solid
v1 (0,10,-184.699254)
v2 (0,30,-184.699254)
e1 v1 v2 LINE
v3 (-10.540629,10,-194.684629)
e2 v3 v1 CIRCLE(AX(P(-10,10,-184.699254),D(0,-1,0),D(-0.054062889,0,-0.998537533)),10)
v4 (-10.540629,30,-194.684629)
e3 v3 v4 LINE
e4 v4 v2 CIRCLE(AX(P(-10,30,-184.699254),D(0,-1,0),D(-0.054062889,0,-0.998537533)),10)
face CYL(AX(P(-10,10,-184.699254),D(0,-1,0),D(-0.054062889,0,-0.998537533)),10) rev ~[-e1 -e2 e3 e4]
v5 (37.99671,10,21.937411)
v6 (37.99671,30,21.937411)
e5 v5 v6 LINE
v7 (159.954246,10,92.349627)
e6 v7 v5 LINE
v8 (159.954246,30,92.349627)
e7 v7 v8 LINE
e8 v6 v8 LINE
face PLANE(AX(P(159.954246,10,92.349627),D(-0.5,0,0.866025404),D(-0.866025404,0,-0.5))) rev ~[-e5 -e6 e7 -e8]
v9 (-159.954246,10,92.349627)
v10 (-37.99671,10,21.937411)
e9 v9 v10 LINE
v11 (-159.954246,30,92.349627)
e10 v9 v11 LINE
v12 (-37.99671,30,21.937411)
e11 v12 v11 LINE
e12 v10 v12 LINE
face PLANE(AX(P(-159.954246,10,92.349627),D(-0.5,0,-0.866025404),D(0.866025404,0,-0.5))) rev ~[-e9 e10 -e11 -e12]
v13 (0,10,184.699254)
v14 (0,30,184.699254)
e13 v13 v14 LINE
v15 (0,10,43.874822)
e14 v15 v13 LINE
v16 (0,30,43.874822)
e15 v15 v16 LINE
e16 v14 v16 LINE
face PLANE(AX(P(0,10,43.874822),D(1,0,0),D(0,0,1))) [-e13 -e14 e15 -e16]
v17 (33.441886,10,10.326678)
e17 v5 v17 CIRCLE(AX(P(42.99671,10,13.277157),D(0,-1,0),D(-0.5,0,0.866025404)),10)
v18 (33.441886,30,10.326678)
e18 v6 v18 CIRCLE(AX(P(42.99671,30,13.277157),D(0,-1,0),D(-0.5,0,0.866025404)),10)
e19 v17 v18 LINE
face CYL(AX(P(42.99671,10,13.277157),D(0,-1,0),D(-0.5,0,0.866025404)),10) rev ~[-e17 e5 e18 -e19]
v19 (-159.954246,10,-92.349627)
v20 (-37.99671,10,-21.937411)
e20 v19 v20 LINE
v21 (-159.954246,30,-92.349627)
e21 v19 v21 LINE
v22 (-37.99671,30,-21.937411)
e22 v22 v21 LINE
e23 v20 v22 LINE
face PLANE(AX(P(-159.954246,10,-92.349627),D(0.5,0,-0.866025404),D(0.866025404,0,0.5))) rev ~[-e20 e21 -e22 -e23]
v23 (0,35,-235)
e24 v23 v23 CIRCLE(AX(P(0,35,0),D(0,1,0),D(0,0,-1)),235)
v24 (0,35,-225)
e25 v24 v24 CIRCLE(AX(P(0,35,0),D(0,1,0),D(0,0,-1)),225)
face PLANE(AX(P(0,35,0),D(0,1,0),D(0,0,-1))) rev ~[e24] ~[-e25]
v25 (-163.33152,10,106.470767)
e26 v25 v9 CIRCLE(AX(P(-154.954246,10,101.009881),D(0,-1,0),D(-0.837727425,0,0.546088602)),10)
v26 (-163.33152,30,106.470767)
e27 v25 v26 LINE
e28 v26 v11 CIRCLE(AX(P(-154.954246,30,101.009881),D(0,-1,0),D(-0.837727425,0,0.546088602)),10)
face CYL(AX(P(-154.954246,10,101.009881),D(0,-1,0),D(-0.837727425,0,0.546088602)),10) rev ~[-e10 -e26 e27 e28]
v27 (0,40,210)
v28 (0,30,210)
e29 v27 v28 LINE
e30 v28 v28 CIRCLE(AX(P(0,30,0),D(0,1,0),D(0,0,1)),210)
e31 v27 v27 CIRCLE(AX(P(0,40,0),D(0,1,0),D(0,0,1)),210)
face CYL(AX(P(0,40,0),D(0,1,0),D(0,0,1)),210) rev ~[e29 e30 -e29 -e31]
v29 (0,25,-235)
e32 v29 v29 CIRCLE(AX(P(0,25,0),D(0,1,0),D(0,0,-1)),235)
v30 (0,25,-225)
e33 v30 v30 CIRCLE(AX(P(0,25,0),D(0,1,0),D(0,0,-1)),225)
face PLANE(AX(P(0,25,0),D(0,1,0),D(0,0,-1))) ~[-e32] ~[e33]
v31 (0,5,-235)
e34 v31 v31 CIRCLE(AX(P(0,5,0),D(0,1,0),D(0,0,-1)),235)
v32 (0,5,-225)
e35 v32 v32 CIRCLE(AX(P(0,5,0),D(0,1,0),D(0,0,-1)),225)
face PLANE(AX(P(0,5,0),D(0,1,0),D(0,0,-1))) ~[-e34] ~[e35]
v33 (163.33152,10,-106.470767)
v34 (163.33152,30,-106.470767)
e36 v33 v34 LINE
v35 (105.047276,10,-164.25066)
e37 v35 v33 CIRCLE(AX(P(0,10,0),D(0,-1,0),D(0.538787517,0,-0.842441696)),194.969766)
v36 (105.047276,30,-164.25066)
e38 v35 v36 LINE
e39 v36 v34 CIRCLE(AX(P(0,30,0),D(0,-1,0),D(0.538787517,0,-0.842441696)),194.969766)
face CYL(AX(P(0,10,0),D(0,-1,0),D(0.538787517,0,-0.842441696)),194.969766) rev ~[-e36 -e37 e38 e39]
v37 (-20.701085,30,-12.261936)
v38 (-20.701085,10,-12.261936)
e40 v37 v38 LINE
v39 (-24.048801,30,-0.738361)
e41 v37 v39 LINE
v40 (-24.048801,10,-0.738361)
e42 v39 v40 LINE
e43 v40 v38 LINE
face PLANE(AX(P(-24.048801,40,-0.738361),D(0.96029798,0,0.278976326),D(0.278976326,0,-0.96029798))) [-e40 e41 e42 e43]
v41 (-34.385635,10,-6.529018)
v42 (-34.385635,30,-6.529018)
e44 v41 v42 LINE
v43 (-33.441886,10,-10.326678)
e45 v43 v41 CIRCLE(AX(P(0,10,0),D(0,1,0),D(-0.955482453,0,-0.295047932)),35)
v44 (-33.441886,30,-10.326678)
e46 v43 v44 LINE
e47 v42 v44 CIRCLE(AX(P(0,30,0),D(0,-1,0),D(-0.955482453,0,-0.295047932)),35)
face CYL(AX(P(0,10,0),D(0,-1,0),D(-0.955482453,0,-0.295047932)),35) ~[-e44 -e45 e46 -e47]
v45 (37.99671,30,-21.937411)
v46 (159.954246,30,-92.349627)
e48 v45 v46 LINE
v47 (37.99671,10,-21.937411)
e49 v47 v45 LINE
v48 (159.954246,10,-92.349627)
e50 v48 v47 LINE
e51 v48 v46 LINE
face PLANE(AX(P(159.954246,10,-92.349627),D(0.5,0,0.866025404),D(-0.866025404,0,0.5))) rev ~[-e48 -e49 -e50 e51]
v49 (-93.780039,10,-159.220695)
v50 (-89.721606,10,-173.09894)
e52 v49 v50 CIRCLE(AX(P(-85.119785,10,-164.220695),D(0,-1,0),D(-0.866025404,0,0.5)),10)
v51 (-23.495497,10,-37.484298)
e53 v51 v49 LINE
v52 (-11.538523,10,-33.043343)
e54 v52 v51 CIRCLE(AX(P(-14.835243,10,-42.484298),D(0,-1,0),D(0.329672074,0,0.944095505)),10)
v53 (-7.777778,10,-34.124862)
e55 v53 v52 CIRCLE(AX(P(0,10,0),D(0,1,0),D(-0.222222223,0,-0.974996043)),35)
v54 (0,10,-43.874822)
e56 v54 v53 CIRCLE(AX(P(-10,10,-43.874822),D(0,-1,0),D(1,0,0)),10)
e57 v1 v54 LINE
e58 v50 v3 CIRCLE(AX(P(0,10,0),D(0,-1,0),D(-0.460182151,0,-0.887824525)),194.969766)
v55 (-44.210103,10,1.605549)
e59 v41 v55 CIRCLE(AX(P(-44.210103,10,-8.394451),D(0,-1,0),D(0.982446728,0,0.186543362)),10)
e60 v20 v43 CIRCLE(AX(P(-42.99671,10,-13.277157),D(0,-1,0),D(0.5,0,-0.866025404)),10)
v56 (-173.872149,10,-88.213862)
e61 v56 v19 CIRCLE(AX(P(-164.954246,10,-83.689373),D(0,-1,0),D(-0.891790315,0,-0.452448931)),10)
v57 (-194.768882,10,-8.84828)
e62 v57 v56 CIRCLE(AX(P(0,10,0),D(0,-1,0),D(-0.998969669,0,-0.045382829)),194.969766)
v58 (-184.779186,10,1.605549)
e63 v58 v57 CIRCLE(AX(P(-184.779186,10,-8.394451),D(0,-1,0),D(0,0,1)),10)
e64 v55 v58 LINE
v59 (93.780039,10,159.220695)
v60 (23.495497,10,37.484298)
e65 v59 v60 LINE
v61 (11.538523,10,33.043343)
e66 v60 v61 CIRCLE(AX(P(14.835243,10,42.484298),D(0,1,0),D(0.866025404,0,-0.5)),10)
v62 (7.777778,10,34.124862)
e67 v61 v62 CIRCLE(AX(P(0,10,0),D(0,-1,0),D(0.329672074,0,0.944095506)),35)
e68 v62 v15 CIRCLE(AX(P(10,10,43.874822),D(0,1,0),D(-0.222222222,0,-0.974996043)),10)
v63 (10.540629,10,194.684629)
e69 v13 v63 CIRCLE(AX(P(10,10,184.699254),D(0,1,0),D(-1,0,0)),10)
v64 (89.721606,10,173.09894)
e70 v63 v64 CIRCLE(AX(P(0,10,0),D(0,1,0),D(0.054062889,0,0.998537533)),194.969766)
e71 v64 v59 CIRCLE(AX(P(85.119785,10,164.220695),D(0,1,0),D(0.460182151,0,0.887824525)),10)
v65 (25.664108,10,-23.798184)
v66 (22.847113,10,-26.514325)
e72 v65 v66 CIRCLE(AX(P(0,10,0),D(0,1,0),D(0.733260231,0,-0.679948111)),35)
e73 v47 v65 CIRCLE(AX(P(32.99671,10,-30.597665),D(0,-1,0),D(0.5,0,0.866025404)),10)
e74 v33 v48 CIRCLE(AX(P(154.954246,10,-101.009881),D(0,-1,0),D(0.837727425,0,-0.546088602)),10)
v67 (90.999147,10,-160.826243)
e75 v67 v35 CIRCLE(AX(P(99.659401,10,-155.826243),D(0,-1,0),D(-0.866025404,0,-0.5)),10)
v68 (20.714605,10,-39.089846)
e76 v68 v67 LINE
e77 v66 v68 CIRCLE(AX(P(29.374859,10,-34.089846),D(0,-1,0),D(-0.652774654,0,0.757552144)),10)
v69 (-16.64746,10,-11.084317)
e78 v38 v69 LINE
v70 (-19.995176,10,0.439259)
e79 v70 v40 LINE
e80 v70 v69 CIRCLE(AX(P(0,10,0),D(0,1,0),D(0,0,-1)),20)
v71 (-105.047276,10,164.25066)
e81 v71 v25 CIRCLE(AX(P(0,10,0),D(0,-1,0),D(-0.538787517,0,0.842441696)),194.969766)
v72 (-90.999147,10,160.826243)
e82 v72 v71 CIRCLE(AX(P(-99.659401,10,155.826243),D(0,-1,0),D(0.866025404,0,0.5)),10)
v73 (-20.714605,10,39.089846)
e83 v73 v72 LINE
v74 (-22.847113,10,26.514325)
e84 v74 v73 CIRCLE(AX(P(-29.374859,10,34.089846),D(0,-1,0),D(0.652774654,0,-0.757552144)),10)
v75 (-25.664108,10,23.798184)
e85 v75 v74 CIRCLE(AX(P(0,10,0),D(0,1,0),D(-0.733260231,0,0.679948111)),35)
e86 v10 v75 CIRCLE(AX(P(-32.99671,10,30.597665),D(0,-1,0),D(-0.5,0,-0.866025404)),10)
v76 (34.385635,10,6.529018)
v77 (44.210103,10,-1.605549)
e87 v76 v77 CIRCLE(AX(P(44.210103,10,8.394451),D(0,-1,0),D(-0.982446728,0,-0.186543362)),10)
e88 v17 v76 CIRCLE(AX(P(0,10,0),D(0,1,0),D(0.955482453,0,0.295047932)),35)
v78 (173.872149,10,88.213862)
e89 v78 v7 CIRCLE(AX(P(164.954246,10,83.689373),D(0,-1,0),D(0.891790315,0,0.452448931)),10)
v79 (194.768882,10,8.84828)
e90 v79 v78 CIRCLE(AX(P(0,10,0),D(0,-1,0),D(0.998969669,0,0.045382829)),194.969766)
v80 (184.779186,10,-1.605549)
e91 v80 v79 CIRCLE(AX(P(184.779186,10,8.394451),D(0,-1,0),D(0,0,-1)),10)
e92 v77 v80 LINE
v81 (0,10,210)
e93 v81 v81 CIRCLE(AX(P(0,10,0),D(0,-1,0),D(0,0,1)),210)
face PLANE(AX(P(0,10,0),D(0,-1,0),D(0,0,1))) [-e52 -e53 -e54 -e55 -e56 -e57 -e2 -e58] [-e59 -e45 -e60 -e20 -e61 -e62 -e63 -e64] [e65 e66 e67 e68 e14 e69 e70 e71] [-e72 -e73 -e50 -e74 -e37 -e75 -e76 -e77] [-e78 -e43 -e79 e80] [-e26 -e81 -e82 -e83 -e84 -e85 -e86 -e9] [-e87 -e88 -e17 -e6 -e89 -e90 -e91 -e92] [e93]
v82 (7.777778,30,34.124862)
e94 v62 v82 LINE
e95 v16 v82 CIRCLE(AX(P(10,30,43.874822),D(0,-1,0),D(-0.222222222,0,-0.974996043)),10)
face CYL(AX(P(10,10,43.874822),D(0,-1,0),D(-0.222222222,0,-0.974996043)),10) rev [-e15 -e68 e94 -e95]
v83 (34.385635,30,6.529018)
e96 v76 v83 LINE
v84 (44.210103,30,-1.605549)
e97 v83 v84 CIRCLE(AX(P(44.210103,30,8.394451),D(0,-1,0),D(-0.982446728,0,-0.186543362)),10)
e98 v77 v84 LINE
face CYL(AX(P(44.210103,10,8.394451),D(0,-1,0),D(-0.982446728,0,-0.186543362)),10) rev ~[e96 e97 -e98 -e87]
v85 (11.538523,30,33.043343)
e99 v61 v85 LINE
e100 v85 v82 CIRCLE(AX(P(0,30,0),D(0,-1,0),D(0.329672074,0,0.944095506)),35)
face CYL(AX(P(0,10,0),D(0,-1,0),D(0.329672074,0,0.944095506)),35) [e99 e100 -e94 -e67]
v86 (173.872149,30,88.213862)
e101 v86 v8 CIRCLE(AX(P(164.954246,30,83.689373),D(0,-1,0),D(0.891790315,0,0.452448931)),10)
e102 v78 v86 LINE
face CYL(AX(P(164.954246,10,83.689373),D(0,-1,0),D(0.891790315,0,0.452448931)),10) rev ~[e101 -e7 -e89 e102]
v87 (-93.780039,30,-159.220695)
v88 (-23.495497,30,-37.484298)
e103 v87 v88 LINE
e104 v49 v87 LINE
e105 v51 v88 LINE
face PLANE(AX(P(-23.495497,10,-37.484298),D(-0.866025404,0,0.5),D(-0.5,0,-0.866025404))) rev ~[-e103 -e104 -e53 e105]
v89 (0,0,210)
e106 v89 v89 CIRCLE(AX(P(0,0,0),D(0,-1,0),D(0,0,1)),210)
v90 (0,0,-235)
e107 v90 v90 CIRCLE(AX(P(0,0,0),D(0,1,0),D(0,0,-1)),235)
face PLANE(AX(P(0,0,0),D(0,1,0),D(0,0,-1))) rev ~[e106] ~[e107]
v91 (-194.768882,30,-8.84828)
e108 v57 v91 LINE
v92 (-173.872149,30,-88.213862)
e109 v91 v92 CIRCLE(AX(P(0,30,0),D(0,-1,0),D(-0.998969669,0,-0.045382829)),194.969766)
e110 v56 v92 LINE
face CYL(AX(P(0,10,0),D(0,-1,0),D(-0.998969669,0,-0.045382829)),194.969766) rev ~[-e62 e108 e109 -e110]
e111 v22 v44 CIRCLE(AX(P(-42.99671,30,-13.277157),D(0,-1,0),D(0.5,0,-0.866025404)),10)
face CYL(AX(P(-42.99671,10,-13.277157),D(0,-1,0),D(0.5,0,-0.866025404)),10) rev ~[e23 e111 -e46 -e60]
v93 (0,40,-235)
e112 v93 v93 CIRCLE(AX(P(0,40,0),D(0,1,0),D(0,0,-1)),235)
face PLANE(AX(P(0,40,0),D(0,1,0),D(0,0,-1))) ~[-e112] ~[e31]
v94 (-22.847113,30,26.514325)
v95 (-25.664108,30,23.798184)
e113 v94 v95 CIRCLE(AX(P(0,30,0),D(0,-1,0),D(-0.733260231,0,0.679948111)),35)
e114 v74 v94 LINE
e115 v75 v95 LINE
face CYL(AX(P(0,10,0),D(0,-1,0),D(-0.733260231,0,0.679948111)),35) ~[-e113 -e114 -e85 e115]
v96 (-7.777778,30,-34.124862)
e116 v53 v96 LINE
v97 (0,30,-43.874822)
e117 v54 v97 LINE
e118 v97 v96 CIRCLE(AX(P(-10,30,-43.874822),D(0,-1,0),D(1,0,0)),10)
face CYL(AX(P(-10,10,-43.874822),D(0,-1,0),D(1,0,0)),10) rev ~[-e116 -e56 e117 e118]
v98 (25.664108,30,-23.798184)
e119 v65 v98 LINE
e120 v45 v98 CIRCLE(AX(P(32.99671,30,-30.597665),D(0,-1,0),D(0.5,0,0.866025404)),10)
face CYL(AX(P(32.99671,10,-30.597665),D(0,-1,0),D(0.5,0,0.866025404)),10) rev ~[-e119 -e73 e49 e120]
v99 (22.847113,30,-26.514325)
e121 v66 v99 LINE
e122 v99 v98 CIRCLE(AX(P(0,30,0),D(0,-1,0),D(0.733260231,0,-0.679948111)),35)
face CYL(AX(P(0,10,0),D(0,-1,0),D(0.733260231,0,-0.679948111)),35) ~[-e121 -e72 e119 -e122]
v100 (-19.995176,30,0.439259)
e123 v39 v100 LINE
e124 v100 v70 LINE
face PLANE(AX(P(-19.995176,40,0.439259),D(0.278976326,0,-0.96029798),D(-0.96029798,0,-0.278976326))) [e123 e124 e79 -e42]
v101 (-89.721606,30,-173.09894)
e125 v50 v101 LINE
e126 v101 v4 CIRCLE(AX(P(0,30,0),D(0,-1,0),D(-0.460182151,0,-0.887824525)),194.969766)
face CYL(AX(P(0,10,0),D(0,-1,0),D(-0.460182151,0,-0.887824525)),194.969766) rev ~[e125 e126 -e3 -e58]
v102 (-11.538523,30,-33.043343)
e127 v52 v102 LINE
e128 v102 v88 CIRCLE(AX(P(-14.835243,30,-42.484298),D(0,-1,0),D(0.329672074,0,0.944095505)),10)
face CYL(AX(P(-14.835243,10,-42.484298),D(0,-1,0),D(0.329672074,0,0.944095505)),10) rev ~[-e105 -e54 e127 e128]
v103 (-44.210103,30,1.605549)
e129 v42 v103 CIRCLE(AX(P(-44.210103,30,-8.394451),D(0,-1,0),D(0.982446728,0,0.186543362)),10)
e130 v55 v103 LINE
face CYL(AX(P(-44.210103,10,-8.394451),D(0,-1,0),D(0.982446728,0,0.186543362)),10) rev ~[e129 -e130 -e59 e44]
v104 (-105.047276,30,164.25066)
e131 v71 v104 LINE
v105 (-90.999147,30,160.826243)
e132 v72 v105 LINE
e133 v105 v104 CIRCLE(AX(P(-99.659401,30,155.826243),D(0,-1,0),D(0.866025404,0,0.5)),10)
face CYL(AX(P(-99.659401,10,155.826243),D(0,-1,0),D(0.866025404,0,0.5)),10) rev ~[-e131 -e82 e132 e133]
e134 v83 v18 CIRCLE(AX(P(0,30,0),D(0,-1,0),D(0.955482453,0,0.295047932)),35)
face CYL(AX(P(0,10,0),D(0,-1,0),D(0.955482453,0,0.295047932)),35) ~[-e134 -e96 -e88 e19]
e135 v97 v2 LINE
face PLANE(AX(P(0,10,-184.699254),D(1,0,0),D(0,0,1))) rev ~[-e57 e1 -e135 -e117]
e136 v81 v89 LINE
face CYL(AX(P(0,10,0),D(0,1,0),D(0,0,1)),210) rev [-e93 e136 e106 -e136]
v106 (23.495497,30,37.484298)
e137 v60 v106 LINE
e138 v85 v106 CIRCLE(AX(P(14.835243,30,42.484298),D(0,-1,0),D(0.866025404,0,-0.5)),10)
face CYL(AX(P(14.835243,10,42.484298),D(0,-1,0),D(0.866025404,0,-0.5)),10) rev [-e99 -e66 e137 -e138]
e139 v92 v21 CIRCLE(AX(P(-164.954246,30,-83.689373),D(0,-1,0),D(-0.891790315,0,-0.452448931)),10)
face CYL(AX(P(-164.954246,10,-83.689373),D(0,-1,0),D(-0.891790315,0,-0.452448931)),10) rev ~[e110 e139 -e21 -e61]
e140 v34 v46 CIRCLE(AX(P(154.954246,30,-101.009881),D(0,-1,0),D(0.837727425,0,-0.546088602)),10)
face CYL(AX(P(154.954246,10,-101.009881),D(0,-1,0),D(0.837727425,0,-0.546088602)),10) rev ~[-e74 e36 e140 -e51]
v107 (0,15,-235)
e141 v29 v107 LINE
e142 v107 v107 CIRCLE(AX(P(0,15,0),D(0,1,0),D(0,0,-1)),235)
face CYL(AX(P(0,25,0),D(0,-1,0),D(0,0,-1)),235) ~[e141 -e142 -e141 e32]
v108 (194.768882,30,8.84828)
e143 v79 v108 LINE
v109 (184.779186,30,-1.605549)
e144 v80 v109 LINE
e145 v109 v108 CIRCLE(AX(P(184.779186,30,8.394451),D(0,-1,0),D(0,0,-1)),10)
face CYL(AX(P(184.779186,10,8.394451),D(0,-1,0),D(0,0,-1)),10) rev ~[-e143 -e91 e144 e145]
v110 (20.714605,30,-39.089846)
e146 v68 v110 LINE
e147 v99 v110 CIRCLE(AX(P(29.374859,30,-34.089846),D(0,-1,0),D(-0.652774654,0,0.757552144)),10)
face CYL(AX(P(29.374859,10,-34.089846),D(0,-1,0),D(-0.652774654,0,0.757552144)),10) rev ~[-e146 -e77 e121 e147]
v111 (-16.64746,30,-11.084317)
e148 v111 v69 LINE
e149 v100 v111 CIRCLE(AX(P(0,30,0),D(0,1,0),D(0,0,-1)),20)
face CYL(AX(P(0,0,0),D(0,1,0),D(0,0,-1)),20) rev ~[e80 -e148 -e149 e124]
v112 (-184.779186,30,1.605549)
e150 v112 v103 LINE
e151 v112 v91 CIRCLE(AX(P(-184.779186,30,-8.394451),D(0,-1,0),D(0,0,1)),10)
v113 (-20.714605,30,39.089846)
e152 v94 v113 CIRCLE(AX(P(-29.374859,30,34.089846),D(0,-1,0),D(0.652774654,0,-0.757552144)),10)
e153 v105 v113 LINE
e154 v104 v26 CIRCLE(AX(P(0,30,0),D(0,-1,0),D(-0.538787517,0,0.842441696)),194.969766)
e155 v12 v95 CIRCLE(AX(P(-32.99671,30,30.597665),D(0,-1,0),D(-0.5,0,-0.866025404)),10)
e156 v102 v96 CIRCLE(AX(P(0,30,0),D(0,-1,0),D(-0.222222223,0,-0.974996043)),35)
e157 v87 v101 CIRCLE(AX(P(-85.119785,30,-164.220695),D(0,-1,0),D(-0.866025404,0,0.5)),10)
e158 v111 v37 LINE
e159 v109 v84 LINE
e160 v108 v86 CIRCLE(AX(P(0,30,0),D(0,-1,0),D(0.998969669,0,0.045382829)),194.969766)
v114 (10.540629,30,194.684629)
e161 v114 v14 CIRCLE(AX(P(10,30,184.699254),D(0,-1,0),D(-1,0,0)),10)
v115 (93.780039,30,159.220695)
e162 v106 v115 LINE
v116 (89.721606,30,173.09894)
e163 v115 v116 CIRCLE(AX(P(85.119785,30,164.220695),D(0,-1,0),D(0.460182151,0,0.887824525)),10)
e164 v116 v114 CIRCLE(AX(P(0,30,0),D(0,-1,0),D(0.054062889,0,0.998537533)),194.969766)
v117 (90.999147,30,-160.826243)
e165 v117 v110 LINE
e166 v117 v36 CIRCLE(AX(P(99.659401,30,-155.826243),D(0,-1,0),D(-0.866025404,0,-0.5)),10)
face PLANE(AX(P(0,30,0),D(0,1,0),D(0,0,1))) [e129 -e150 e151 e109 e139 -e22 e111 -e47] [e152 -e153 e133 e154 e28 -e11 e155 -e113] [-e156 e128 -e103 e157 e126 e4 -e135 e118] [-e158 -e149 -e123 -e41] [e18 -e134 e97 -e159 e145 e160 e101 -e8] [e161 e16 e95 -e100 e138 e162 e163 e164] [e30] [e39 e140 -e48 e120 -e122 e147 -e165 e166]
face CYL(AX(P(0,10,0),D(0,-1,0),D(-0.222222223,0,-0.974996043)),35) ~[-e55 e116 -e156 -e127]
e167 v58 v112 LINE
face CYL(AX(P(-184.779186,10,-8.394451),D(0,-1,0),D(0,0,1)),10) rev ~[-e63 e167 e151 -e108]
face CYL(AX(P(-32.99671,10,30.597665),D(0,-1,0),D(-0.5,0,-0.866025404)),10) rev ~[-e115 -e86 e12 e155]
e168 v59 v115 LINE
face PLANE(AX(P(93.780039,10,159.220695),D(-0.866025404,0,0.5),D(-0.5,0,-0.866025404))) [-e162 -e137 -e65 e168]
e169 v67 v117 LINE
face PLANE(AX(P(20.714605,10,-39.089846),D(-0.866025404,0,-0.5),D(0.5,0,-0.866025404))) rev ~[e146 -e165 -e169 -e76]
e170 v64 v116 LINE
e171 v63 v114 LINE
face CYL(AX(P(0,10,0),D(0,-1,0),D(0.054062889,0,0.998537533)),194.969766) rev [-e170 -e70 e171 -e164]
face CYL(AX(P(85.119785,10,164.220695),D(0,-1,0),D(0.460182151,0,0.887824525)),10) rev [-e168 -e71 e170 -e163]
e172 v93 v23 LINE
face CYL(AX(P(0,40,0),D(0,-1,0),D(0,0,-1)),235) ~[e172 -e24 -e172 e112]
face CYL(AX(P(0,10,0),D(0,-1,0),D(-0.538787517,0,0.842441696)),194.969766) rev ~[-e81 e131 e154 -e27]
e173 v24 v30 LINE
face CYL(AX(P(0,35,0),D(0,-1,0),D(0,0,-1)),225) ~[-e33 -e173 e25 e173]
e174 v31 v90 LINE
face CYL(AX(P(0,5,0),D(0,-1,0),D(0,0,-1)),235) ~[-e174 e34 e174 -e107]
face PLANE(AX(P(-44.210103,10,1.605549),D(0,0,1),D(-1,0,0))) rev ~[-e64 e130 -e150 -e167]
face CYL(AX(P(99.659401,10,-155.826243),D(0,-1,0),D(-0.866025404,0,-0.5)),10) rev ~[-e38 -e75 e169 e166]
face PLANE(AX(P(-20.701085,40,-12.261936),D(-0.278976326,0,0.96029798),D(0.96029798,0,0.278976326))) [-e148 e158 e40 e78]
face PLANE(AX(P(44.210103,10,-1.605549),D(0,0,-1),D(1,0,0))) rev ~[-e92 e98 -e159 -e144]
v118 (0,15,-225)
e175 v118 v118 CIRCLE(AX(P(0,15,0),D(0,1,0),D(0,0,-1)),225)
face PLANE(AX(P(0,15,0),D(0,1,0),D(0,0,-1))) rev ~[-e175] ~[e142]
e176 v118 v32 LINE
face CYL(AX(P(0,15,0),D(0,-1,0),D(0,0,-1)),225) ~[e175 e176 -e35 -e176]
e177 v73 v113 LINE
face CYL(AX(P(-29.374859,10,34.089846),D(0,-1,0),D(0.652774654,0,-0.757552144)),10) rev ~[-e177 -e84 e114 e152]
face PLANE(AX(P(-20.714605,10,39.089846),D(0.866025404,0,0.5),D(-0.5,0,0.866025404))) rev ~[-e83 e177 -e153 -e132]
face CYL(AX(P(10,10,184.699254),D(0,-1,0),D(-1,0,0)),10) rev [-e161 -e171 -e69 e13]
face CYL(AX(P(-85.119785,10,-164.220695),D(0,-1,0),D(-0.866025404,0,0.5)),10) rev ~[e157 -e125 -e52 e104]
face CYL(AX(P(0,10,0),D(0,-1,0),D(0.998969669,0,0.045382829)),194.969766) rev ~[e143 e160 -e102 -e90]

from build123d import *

# Parameters (mm, degrees)
CUT_EXTRUDE1_DEPTH = 335.738704066
SKETCH3_R          = 210
CUT_EXTRUDE2_DEPTH = 10
CUT_EXTRUDE3_START = -10
SKETCH4_R          = 210
CUT_EXTRUDE3_DEPTH = 10
CUT_EXTRUDE4_DEPTH = 334.691474269


with BuildPart() as part:
    # Sketch1 → Revolve1 (revolve)
    with BuildSketch(Plane(origin=(0, 0, 0), x_dir=(0, 0, -1), z_dir=(1, 0, 0))):
        Polygon((20, 0), (20, 40), (235, 40), (235, 35), (225, 35), (225, 25), (235, 25), (235, 15), (225, 15), (225, 5), (235, 5), (235, 0), align=None)
    revolve(axis=Axis((0, 0, 0), (0, 1, 0)))

    # Sketch2 → Cut-Extrude1 (cut, through all)
    with BuildSketch(Plane(origin=(0, 40, 0), x_dir=(1, 0, 0), z_dir=(0, 1, 0))):
        with BuildLine():
            Line((-19.995175711, -0.439258804), (-24.04880088, 0.738360519))
            Line((-24.04880088, 0.738360519), (-20.701084967, 12.261936274))
            Line((-20.701084967, 12.261936274), (-16.647459798, 11.084316951))
            ThreePointArc((-16.647459798, 11.084316951), (19.205959591, -5.579526521), (-19.995175711, -0.439258804))
        make_face()
    extrude(amount=-CUT_EXTRUDE1_DEPTH, mode=Mode.SUBTRACT)

    # Sketch3 → Cut-Extrude2 (cut)
    with BuildSketch(Plane(origin=(0, 40, 0), x_dir=(1, 0, 0), z_dir=(0, 1, 0))):
        with Locations(Location((0, 0, 0), (0, 0, 270))):
            Circle(SKETCH3_R)
    extrude(amount=-CUT_EXTRUDE2_DEPTH, mode=Mode.SUBTRACT)

    # Sketch4 → Cut-Extrude3 (cut)
    with BuildSketch(Plane.XZ.offset(CUT_EXTRUDE3_START)):
        with Locations(Location((0, 0, 0), (0, 0, 90))):
            Circle(SKETCH4_R)
    extrude(amount=CUT_EXTRUDE3_DEPTH, mode=Mode.SUBTRACT)

    # Sketch5 → Cut-Extrude4 (cut, through all)
    with BuildSketch(Plane.XZ.offset(-10)):
        with BuildLine():
            Line((0, 43.874821937), (0, 184.699253674))
            ThreePointArc((0, 184.699253674), (3.122729064, 191.958946813), (10.540628894, 194.684629))
            ThreePointArc((10.540628894, 194.684629), (51.279766456, 188.105276849), (89.721606346, 173.098939861))
            ThreePointArc((89.721606346, 173.098939861), (94.717809879, 167.027457013), (93.78003887, 159.220694609))
            Line((93.78003887, 159.220694609), (23.495497372, 37.484297749))
            ThreePointArc((23.495497372, 37.484297749), (18.316966013, 33.109992057), (11.538522594, 33.043342693))
            ThreePointArc((11.538522594, 33.043342693), (9.673276888, 33.636701893), (7.777777778, 34.124861507))
            ThreePointArc((7.777777778, 34.124861507), (2.1826404, 37.638726292), (0, 43.874821937))
        make_face()
        with BuildLine():
            Line((44.21010278, -1.605548725), (184.779185774, -1.605548725))
            ThreePointArc((184.779185774, -1.605548725), (192.008925843, 1.485698961), (194.768882461, 8.848279566))
            ThreePointArc((194.768882461, 8.848279566), (188.543831565, 49.643057974), (173.872148887, 88.213862106))
            ThreePointArc((173.872148887, 88.213862106), (167.802688955, 93.275110708), (159.954245742, 92.349626837))
            Line((159.954245742, 92.349626837), (37.996710384, 21.937410968))
            ThreePointArc((37.996710384, 21.937410968), (33.687413335, 16.929141112), (33.441885854, 10.326677613))
            ThreePointArc((33.441885854, 10.326677613), (33.966876783, 8.441047424), (34.385635495, 6.529017659))
            ThreePointArc((34.385635495, 6.529017659), (37.832577247, 0.692038141), (44.21010278, -1.605548725))
        make_face()
        with BuildLine():
            Line((20.714605407, -39.089846473), (90.999146905, -160.826243334))
            ThreePointArc((90.999146905, -160.826243334), (97.291115964, -165.541758053), (105.047276114, -164.250660295))
            ThreePointArc((105.047276114, -164.250660295), (137.264065109, -138.462218875), (163.331519993, -106.470766894))
            ThreePointArc((163.331519993, -106.470766894), (164.679959892, -98.683836105), (159.954245742, -92.349626837))
            Line((159.954245742, -92.349626837), (37.996710384, -21.937410968))
            ThreePointArc((37.996710384, -21.937410968), (31.504772935, -20.70958518), (25.664108076, -23.798183894))
            ThreePointArc((25.664108076, -23.798183894), (24.293599895, -25.195654469), (22.847112902, -26.514325035))
            ThreePointArc((22.847112902, -26.514325035), (19.515611235, -32.417953916), (20.714605407, -39.089846473))
        make_face()
        with BuildLine():
            Line((-23.495497372, -37.484297749), (-93.78003887, -159.220694609))
            ThreePointArc((-93.78003887, -159.220694609), (-94.717809879, -167.027457013), (-89.721606346, -173.098939861))
            ThreePointArc((-89.721606346, -173.098939861), (-51.279766456, -188.105276849), (-10.540628894, -194.684629))
            ThreePointArc((-10.540628894, -194.684629), (-3.122729064, -191.958946813), (0, -184.699253674))
            Line((0, -184.699253674), (0, -43.874821937))
            ThreePointArc((0, -43.874821937), (-2.1826404, -37.638726292), (-7.777777778, -34.124861507))
            ThreePointArc((-7.777777778, -34.124861507), (-9.673276888, -33.636701893), (-11.538522594, -33.043342693))
            ThreePointArc((-11.538522594, -33.043342693), (-18.316966013, -33.109992057), (-23.495497372, -37.484297749))
        make_face()
        with BuildLine():
            Line((-44.21010278, 1.605548725), (-184.779185774, 1.605548725))
            ThreePointArc((-184.779185774, 1.605548725), (-192.008925843, -1.485698961), (-194.768882461, -8.848279566))
            ThreePointArc((-194.768882461, -8.848279566), (-188.543831565, -49.643057974), (-173.872148887, -88.213862106))
            ThreePointArc((-173.872148887, -88.213862106), (-167.802688955, -93.275110708), (-159.954245742, -92.349626837))
            Line((-159.954245742, -92.349626837), (-37.996710384, -21.937410968))
            ThreePointArc((-37.996710384, -21.937410968), (-33.687413335, -16.929141112), (-33.441885854, -10.326677613))
            ThreePointArc((-33.441885854, -10.326677613), (-33.966876783, -8.441047424), (-34.385635495, -6.529017659))
            ThreePointArc((-34.385635495, -6.529017659), (-37.832577247, -0.692038141), (-44.21010278, 1.605548725))
        make_face()
        with BuildLine():
            Line((-20.714605407, 39.089846473), (-90.999146905, 160.826243334))
            ThreePointArc((-90.999146905, 160.826243334), (-97.291115964, 165.541758053), (-105.047276114, 164.250660295))
            ThreePointArc((-105.047276114, 164.250660295), (-137.264065109, 138.462218875), (-163.331519993, 106.470766894))
            ThreePointArc((-163.331519993, 106.470766894), (-164.679959892, 98.683836105), (-159.954245742, 92.349626837))
            Line((-159.954245742, 92.349626837), (-37.996710384, 21.937410968))
            ThreePointArc((-37.996710384, 21.937410968), (-31.504772935, 20.70958518), (-25.664108076, 23.798183894))
            ThreePointArc((-25.664108076, 23.798183894), (-24.293599895, 25.195654469), (-22.847112902, 26.514325035))
            ThreePointArc((-22.847112902, 26.514325035), (-19.515611235, 32.417953916), (-20.714605407, 39.089846473))
        make_face()
    extrude(amount=-CUT_EXTRUDE4_DEPTH, mode=Mode.SUBTRACT)


solid = part.part
